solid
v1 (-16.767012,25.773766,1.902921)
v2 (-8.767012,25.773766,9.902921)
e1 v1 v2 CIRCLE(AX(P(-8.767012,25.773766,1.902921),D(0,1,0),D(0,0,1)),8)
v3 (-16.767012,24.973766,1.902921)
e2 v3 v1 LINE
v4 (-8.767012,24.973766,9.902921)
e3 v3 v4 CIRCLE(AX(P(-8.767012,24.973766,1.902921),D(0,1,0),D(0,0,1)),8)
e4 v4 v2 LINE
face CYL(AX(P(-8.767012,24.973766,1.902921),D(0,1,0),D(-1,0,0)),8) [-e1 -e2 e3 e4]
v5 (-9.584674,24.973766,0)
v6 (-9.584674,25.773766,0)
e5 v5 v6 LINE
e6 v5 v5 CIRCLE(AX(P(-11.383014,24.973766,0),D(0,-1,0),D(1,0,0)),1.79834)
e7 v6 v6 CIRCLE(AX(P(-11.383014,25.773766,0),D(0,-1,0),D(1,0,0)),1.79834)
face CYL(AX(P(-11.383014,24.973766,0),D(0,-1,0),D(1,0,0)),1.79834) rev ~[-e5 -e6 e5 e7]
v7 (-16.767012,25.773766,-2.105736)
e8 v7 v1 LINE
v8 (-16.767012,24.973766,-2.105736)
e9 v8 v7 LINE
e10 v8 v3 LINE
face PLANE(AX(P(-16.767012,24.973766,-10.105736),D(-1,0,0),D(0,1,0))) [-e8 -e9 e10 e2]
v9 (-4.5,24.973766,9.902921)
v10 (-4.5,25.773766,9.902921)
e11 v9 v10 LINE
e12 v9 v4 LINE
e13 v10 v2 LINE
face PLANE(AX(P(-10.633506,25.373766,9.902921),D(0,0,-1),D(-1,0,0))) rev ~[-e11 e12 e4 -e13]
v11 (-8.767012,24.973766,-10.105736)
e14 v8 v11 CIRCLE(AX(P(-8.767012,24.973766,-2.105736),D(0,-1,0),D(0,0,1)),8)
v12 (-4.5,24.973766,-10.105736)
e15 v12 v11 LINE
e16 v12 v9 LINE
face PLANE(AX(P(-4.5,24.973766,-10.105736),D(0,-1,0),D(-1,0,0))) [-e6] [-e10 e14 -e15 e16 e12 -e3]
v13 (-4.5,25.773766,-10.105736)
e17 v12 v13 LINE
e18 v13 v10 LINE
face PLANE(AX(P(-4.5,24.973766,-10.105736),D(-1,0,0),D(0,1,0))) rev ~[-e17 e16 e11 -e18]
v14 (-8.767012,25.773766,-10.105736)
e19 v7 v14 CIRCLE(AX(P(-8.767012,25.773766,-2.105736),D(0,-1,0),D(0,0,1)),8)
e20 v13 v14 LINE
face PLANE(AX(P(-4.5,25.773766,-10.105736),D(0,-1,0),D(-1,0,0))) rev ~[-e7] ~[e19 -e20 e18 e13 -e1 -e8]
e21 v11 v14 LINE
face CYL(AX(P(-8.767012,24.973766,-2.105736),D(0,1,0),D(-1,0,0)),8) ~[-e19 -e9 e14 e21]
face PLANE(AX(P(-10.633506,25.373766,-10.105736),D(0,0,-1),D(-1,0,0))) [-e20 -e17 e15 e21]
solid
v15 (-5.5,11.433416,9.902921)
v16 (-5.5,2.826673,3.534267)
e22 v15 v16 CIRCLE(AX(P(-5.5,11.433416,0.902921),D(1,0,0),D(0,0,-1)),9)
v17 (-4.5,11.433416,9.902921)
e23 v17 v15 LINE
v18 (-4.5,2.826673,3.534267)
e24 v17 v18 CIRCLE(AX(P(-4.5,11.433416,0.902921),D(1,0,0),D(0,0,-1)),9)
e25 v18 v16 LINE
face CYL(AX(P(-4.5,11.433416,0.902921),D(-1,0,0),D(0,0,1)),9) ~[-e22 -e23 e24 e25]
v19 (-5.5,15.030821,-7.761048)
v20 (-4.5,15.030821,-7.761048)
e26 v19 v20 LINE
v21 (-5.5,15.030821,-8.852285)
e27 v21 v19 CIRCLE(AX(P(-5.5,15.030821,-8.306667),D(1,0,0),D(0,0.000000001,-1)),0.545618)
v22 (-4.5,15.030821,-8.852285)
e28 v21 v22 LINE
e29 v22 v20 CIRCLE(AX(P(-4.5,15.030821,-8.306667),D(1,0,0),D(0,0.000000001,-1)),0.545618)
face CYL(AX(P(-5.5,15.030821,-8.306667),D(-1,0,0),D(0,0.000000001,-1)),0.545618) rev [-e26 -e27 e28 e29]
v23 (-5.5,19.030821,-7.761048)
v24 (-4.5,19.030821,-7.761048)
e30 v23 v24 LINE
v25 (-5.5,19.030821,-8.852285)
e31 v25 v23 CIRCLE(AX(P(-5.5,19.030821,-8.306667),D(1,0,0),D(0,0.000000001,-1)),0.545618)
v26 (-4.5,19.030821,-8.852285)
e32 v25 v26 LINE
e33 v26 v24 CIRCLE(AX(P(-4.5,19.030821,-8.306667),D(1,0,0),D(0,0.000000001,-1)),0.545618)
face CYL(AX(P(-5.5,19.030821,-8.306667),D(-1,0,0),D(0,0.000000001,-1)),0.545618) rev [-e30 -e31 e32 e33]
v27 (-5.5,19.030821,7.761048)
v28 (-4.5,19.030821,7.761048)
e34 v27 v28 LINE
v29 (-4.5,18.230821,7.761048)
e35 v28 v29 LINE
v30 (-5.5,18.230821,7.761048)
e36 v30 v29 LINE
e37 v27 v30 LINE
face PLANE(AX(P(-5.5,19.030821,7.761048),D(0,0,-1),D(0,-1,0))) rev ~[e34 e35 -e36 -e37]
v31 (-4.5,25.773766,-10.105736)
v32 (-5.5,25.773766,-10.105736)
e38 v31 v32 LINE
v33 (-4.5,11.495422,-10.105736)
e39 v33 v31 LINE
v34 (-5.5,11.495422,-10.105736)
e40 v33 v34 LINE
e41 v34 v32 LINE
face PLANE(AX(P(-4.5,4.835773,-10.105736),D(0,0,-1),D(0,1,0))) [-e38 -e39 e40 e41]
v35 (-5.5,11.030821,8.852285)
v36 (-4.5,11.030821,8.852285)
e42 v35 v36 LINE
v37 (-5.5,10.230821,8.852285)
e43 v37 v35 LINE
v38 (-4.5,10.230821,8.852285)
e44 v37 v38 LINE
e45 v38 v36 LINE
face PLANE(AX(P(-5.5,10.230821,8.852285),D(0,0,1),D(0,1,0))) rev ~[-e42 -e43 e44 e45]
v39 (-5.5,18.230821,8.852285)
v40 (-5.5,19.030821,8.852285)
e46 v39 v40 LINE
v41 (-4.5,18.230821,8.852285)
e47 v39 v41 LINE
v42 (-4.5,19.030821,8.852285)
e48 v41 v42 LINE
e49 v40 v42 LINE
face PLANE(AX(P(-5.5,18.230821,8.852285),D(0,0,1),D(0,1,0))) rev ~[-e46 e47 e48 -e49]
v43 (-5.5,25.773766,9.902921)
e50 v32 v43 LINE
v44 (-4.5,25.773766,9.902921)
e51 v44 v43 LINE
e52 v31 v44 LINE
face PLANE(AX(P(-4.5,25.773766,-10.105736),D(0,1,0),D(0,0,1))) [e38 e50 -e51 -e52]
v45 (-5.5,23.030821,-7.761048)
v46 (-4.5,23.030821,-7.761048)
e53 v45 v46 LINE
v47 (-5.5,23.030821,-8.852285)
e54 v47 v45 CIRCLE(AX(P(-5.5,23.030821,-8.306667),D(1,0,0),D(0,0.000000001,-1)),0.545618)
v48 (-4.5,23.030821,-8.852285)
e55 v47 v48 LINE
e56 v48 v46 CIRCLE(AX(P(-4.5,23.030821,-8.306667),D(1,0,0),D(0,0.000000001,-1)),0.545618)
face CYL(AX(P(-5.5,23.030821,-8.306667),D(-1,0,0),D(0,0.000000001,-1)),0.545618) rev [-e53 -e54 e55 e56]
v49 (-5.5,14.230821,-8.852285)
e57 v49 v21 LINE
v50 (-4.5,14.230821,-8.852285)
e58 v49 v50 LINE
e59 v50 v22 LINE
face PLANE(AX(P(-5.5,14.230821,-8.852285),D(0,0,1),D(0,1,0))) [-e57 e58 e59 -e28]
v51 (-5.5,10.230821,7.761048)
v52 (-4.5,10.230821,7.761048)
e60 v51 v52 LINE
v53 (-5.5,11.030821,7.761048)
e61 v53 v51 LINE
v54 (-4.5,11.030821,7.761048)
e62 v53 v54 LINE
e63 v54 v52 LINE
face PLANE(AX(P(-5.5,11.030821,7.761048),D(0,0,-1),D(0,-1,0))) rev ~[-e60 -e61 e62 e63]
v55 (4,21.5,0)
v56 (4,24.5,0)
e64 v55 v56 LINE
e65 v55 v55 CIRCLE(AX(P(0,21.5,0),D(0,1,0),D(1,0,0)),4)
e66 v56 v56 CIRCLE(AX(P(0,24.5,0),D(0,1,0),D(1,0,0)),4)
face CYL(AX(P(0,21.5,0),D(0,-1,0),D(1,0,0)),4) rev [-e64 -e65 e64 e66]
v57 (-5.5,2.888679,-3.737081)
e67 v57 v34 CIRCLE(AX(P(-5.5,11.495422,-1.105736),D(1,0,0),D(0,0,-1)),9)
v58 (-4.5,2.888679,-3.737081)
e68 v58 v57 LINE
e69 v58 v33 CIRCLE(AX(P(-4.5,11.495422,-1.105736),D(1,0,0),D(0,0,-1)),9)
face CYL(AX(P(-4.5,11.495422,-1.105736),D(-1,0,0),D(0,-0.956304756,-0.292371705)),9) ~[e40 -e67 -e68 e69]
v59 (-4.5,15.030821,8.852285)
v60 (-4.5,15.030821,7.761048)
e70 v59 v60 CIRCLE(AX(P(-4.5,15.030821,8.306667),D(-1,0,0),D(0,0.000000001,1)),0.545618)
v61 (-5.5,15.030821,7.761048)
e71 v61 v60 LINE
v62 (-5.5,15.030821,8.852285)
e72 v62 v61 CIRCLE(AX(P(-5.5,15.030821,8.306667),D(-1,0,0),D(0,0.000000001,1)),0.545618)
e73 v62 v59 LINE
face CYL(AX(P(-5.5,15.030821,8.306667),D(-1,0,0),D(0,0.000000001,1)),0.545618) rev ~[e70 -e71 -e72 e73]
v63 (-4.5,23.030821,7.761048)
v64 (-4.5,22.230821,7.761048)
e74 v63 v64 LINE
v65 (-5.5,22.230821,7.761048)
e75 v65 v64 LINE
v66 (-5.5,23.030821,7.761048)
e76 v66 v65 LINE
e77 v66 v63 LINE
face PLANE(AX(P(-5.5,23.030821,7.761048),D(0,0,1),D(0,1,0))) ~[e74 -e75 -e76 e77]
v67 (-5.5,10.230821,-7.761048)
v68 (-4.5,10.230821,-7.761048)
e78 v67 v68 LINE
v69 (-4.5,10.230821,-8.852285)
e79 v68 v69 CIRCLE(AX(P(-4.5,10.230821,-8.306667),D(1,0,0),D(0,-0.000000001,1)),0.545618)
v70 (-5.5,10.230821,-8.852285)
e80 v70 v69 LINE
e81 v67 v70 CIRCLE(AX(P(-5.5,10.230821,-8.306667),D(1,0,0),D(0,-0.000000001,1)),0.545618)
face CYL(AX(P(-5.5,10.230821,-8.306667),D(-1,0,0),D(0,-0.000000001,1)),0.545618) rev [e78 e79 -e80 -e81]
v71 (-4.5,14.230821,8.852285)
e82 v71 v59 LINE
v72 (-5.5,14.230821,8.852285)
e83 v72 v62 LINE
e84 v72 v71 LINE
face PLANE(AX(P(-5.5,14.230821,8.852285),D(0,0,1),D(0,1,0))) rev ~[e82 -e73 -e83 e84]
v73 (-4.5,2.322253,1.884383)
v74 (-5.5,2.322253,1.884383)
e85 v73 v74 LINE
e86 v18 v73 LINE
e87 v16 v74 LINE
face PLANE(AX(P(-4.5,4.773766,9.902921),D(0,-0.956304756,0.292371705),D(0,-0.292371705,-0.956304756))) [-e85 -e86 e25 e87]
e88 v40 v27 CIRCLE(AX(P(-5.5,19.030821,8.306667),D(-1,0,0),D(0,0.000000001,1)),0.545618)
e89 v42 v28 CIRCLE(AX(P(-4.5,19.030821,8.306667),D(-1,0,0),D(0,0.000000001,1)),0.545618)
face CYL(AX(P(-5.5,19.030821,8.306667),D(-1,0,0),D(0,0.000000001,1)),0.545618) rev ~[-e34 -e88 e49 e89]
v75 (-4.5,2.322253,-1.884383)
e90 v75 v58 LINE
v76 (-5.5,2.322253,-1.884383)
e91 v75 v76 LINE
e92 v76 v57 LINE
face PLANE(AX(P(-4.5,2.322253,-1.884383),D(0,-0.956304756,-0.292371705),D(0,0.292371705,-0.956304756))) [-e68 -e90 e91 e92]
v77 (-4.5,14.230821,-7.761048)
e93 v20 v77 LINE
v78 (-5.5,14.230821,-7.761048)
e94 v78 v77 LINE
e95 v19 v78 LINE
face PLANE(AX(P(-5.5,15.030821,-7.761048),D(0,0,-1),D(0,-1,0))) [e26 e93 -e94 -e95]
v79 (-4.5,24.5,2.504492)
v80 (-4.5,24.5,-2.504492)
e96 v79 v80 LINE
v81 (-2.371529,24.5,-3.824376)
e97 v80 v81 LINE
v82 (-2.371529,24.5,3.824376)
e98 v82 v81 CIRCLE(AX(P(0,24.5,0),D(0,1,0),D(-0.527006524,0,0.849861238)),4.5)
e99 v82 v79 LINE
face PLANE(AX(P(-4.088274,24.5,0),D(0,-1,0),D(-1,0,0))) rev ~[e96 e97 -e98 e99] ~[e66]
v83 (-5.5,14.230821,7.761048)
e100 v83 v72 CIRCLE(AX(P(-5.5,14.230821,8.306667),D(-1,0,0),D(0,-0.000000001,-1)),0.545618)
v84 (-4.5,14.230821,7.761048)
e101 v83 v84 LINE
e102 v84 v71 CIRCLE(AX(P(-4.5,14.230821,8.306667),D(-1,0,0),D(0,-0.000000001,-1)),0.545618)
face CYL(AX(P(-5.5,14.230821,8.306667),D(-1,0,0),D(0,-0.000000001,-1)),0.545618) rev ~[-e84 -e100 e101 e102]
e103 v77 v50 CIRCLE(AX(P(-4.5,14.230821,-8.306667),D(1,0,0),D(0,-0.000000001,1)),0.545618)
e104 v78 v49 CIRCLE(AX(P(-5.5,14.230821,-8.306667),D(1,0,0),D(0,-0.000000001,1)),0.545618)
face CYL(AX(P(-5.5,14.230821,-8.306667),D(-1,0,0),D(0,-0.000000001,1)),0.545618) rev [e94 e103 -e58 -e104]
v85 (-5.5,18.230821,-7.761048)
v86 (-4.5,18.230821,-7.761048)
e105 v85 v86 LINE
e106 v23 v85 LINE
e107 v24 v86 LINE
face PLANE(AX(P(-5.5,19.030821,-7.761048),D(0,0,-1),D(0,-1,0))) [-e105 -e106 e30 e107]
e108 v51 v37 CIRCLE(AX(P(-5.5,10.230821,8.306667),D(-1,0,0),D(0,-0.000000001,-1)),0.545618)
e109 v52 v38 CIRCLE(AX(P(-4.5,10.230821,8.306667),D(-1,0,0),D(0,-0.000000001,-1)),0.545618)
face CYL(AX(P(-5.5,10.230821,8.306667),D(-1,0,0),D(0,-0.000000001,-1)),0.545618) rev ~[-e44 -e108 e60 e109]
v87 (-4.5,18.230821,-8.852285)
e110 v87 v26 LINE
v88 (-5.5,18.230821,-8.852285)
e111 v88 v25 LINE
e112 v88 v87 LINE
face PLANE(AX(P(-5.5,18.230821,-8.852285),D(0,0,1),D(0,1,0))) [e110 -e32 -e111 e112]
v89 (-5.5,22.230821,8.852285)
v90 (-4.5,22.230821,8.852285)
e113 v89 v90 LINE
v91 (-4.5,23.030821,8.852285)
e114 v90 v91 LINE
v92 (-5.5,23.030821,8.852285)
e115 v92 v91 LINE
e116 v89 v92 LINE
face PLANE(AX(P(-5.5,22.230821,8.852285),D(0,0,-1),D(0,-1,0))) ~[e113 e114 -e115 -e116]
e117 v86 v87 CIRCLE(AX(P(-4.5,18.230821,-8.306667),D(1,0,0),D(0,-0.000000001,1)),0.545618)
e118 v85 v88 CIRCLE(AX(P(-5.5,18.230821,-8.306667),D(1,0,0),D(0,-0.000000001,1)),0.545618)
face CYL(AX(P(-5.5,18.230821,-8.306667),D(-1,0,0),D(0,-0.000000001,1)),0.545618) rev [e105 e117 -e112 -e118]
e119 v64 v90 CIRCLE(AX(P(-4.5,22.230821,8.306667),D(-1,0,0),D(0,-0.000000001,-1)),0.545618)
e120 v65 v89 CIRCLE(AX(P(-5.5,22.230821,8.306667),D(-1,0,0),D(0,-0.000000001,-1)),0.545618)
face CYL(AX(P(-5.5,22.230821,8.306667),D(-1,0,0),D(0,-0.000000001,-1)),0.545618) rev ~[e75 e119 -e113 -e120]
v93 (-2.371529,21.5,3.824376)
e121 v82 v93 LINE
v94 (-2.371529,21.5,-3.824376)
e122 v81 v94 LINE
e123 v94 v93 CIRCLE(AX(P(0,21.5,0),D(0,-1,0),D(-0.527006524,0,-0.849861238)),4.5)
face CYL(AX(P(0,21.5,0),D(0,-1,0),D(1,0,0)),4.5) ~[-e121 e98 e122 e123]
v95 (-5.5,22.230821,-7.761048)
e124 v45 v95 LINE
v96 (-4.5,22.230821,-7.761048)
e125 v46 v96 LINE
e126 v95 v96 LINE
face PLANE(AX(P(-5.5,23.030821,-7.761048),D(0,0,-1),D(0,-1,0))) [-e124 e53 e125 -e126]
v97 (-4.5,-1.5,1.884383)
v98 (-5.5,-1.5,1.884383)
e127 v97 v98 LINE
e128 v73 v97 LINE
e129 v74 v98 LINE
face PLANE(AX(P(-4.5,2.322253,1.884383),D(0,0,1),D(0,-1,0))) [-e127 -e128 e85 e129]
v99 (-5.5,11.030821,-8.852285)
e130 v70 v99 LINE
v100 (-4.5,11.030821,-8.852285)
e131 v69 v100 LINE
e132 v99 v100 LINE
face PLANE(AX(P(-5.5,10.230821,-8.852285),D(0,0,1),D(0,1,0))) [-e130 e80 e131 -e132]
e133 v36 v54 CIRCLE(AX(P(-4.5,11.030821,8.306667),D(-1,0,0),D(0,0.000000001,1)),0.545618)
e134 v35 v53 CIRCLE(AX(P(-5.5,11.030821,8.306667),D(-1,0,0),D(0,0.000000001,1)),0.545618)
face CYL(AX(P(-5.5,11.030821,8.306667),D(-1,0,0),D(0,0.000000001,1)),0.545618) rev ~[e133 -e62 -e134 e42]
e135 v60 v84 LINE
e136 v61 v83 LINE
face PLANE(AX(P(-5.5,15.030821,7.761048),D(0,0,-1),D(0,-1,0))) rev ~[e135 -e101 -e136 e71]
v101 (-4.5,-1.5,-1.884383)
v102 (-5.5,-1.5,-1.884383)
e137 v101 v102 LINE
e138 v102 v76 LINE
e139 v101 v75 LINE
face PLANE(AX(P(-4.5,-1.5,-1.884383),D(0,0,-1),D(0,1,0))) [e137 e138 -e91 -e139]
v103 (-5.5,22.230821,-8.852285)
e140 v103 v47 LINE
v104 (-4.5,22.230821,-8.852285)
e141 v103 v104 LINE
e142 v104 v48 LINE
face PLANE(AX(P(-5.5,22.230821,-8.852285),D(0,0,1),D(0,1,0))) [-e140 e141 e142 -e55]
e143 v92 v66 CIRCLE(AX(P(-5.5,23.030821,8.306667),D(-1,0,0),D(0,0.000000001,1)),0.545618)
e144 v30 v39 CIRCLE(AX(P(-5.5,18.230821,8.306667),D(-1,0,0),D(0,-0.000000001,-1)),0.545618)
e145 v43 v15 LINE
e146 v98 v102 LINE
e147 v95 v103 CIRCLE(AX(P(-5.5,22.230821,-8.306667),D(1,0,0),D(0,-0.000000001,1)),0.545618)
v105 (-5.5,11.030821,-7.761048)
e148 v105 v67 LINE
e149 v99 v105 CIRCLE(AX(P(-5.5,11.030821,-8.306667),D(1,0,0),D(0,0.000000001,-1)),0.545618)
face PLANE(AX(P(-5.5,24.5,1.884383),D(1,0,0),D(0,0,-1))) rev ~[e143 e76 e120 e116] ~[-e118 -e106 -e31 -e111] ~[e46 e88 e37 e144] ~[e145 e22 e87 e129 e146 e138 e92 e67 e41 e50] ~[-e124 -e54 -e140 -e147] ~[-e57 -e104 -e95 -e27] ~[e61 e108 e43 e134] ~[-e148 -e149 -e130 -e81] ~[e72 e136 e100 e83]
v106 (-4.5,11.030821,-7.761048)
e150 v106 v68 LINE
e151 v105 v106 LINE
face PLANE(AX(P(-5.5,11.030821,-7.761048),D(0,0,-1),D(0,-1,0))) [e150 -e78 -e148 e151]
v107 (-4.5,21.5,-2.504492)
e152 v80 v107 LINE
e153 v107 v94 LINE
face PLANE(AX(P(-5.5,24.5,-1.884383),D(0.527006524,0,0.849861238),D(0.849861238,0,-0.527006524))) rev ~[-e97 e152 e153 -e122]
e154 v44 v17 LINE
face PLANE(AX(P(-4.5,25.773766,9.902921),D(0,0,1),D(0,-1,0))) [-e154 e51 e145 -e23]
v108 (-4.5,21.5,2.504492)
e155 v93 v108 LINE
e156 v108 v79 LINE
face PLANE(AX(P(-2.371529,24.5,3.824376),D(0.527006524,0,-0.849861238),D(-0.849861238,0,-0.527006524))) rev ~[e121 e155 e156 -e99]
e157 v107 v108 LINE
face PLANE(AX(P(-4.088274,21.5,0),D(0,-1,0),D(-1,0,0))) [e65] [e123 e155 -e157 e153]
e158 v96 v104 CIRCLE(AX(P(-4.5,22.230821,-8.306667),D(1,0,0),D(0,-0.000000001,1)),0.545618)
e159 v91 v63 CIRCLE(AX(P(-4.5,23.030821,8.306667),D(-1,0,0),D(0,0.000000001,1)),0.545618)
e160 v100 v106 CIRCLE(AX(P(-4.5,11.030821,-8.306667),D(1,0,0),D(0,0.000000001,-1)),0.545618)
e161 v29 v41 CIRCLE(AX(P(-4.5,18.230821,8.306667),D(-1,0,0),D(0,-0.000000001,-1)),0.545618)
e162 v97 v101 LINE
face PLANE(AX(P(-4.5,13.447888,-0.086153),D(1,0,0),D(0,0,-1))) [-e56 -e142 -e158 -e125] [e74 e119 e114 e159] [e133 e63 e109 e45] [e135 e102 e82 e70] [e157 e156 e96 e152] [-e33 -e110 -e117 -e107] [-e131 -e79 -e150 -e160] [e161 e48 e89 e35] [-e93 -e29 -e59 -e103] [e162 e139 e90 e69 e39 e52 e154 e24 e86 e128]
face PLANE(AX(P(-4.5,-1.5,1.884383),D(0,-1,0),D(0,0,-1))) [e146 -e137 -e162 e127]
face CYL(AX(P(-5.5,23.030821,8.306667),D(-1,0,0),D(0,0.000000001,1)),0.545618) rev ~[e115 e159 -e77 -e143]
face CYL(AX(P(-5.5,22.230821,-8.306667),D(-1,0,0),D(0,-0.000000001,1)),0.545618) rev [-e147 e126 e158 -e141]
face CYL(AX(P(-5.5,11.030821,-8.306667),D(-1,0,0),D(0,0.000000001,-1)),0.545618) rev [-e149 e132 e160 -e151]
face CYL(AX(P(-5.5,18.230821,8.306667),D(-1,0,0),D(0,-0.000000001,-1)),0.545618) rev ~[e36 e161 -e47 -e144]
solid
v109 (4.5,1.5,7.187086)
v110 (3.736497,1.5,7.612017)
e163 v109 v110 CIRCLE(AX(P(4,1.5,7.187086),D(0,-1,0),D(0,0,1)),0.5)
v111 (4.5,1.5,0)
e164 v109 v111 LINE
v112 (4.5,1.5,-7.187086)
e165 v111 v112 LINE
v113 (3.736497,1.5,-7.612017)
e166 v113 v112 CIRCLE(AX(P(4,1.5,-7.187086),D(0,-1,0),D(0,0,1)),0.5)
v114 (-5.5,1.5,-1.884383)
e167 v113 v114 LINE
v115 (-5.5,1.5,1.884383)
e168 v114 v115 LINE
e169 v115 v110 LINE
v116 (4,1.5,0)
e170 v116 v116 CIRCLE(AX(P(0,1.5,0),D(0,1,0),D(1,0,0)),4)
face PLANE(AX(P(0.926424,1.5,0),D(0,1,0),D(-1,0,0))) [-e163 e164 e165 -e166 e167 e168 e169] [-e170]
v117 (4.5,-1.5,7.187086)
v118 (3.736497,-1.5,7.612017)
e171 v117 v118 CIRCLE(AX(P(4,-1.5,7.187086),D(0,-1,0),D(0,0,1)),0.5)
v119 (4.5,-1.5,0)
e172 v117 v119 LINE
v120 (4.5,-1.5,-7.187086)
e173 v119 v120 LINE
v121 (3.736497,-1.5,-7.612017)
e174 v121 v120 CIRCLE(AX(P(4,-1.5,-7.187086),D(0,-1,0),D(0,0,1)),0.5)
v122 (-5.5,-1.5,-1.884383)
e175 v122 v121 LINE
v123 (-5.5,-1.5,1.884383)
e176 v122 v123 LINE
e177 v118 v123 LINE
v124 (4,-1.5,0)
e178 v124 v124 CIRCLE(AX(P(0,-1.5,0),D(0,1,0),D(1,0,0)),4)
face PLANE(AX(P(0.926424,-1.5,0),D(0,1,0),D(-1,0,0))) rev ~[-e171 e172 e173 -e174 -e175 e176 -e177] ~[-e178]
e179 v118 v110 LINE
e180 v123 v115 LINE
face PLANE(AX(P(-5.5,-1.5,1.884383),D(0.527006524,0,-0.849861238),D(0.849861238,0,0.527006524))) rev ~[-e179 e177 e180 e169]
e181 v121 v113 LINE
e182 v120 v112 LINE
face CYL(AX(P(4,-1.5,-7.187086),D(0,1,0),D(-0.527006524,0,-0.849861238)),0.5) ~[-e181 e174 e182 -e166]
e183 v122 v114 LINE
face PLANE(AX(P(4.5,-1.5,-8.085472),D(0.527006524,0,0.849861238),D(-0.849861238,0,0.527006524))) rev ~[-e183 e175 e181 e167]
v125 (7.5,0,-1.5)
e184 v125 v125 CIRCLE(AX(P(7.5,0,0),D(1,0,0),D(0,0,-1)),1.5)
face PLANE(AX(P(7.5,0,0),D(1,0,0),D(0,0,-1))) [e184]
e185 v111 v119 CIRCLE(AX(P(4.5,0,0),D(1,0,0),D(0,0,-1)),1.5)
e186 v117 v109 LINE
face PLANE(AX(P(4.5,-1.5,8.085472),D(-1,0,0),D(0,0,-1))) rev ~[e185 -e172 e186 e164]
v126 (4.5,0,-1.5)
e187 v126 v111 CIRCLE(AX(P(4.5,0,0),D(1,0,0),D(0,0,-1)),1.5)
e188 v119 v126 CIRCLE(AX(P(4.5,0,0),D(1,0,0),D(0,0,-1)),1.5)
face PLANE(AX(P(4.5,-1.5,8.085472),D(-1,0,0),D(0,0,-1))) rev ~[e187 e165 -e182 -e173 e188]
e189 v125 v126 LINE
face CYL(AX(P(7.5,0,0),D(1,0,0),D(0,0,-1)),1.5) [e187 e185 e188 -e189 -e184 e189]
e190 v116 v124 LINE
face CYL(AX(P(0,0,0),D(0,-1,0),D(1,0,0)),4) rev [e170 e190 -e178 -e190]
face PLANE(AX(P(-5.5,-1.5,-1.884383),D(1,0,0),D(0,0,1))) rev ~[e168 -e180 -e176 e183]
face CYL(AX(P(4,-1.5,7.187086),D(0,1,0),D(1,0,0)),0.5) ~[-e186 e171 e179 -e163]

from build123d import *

# Parameters (mm, degrees)
SKETCH1_R              = 4.5
SKETCH1_R_2            = 4
BOSS_EXTRUDE1_DEPTH    = 1.5
BOSS_EXTRUDE2_REACH    = 14
SKETCH4_R              = 1.5
BOSS_EXTRUDE3_DEPTH    = 1
FILLET1_R              = 9
CUT_EXTRUDE1_DEPTH     = 1
LPATTERN1_COUNT        = 4
LPATTERN1_PITCH        = 4
LPATTERN1_COPY_1_DEPTH = 1
LPATTERN1_COPY_2_DEPTH = 1
LPATTERN1_COPY_3_DEPTH = 1
SKETCH8_W              = 12.26701151
SKETCH8_H              = 0.8
BOSS_EXTRUDE4_DEPTH    = 20.008657
FILLET3_R              = 8
SKETCH9_R              = 4
BOSS_EXTRUDE5_DEPTH    = 3
FILLET5_R              = 0.5
SKETCH11_R             = 4.5
SKETCH11_R_2           = 4
BOSS_EXTRUDE6_DEPTH    = 3
BOSS_EXTRUDE7_DEPTH    = 3
SKETCH10_R             = 1.798339867
CUT_EXTRUDE3_DEPTH     = 1


with BuildPart() as part:
    # Sketch1 → Boss-Extrude1 (new body, symmetric)
    with BuildSketch(Plane(origin=(0, 0, 0), x_dir=(1, 0, 0), z_dir=(0, 1, 0))):
        Circle(SKETCH1_R)
        Circle(SKETCH1_R_2, mode=Mode.SUBTRACT)
    extrude(amount=BOSS_EXTRUDE1_DEPTH, both=True)

    # Sketch4 → Boss-Extrude2 (add, up to next)
    with BuildSketch(Plane(origin=(7.5, 0, 0), x_dir=(0, 0, -1), z_dir=(1, 0, 0)), mode=Mode.PRIVATE) as boss_extrude2_sk1:
        Circle(SKETCH4_R)
    boss_extrude2_tool1 = extrude(boss_extrude2_sk1.sketch, amount=-BOSS_EXTRUDE2_REACH, mode=Mode.PRIVATE) - part.part
    add(boss_extrude2_tool1.solids().sort_by_distance((7.5, 0, 0))[0])

    # Sketch9 → Boss-Extrude5 (add)
    with BuildSketch(Plane.XZ.offset(1.5)):
        Polygon((4.5, 8.085472141), (4.5, -8.085472141), (-5.5, -1.884383055), (-5.5, 1.884383055), align=None)
        Circle(SKETCH9_R, mode=Mode.SUBTRACT)
    extrude(amount=-BOSS_EXTRUDE5_DEPTH)

    # Fillet5
    fillet5_edges = [part.edges().sort_by_distance(p)[0] for p in [
        (4.5, 0, -8.085472141),
        (4.5, 0, 8.085472141),
    ]]
    fillet(fillet5_edges, radius=FILLET5_R)


with BuildPart() as body_2:
    # Sketch6 → Boss-Extrude3 (new body)
    with BuildSketch(Plane(origin=(-4.5, 0, 0), x_dir=(0, 0, -1), z_dir=(1, 0, 0))):
        Polygon((1.884383055, -1.5), (1.884383055, 2.322252785), (10.105735978, 4.835772616), (10.105735978, 25.773765949), (-9.90292131, 25.773765949), (-9.90292131, 4.773765949), (-1.884383055, 2.322252785), (-1.884383055, -1.5), align=None)
    extrude(amount=-BOSS_EXTRUDE3_DEPTH)

    # Fillet1
    fillet1_edges = [body_2.edges().sort_by_distance(p)[0] for p in [
        (-5, 4.773765949, 9.90292131),
        (-5, 4.835772616, -10.105735978),
    ]]
    fillet(fillet1_edges, radius=FILLET1_R)

    # Sketch7 → Cut-Extrude1 (cut)
    with BuildSketch(Plane.ZY.offset(5.5)):
        with BuildLine():
            Line((-7.761048452, 23.030820996), (-7.761048452, 22.230820996))
            ThreePointArc((-7.761048452, 22.230820996), (-8.306666723, 21.685202725), (-8.852284995, 22.230820996))
            Line((-8.852284995, 22.230820996), (-8.852284995, 23.030820996))
            ThreePointArc((-8.852284995, 23.030820996), (-8.306666723, 23.576439267), (-7.761048452, 23.030820996))
        make_face()
    cut_extrude1 = extrude(amount=-CUT_EXTRUDE1_DEPTH, mode=Mode.SUBTRACT)

    # Mirror1: Cut-Extrude1 across plane
    add(cut_extrude1.mirror(Plane.XY), mode=Mode.SUBTRACT)

    # LPattern1: Cut-Extrude1 ×4
    with Locations(*[(0, -i * LPATTERN1_PITCH, 0) for i in range(1, LPATTERN1_COUNT)]):
        add(cut_extrude1, mode=Mode.SUBTRACT)

    # LPattern1 copy 1 sketch → LPattern1 copy 1 (cut)
    with BuildSketch(Plane(origin=(-5.5, -4, 0), x_dir=(0, 0, -1), z_dir=(-1, 0, 0))):
        with BuildLine():
            Line((-7.761048452, -23.030820996), (-7.761048452, -22.230820996))
            ThreePointArc((-7.761048452, -22.230820996), (-8.306666723, -21.685202725), (-8.852284995, -22.230820996))
            Line((-8.852284995, -22.230820996), (-8.852284995, -23.030820996))
            ThreePointArc((-8.852284995, -23.030820996), (-8.306666723, -23.576439267), (-7.761048452, -23.030820996))
        make_face()
    extrude(amount=-LPATTERN1_COPY_1_DEPTH, mode=Mode.SUBTRACT)

    # LPattern1 copy 2 sketch → LPattern1 copy 2 (cut)
    with BuildSketch(Plane(origin=(-5.5, -8, 0), x_dir=(0, 0, -1), z_dir=(-1, 0, 0))):
        with BuildLine():
            Line((-7.761048452, -23.030820996), (-7.761048452, -22.230820996))
            ThreePointArc((-7.761048452, -22.230820996), (-8.306666723, -21.685202725), (-8.852284995, -22.230820996))
            Line((-8.852284995, -22.230820996), (-8.852284995, -23.030820996))
            ThreePointArc((-8.852284995, -23.030820996), (-8.306666723, -23.576439267), (-7.761048452, -23.030820996))
        make_face()
    extrude(amount=-LPATTERN1_COPY_2_DEPTH, mode=Mode.SUBTRACT)

    # LPattern1 copy 3 sketch → LPattern1 copy 3 (cut)
    with BuildSketch(Plane(origin=(-5.5, -12, 0), x_dir=(0, 0, -1), z_dir=(-1, 0, 0))):
        with BuildLine():
            Line((-7.761048452, -23.030820996), (-7.761048452, -22.230820996))
            ThreePointArc((-7.761048452, -22.230820996), (-8.306666723, -21.685202725), (-8.852284995, -22.230820996))
            Line((-8.852284995, -22.230820996), (-8.852284995, -23.030820996))
            ThreePointArc((-8.852284995, -23.030820996), (-8.306666723, -23.576439267), (-7.761048452, -23.030820996))
        make_face()
    extrude(amount=-LPATTERN1_COPY_3_DEPTH, mode=Mode.SUBTRACT)



with BuildPart() as body_3:
    # Sketch8 → Boss-Extrude4 (new body)
    with BuildSketch(Plane(origin=(0, 0, -10.105735978), x_dir=(-1, 0, 0), z_dir=(0, 0, -1))):
        with Locations((10.633505755, 25.373765949)):
            Rectangle(SKETCH8_W, SKETCH8_H)
    extrude(amount=-BOSS_EXTRUDE4_DEPTH)

    # Fillet3
    fillet3_edges = [body_3.edges().sort_by_distance(p)[0] for p in [
        (-16.76701151, 25.373765949, -10.105735978),
        (-16.76701151, 25.373765949, 9.902921022),
    ]]
    fillet(fillet3_edges, radius=FILLET3_R)

    # Sketch10 → Cut-Extrude3 (cut)
    with BuildSketch(Plane.XZ.offset(-24.973765949)):
        with Locations((-11.383014104, 0)):
            Circle(SKETCH10_R)
    extrude(amount=-CUT_EXTRUDE3_DEPTH, mode=Mode.SUBTRACT)


with BuildPart() as body_4:
    # Sketch11 → Boss-Extrude6 (new body)
    with BuildSketch(Plane(origin=(0, 21.5, 0), x_dir=(1, 0, 0), z_dir=(0, 1, 0))):
        Circle(SKETCH11_R)
        Circle(SKETCH11_R_2, mode=Mode.SUBTRACT)
    extrude(amount=BOSS_EXTRUDE6_DEPTH)


with BuildPart() as body_2_1:
    add(body_2.part)

    add(body_4.part)  # Boss-Extrude7 merges body 4
    # Sketch13 → Boss-Extrude7 (add)
    with BuildSketch(Plane(origin=(0, 24.5, 0), x_dir=(1, 0, 0), z_dir=(0, 1, 0))):
        with BuildLine():
            Line((-5.5, 1.884383055), (-2.37152936, 3.824375569))
            ThreePointArc((-2.37152936, 3.824375569), (-4.5, 0), (-2.37152936, -3.824375569))
            Line((-2.37152936, -3.824375569), (-5.5, -1.884383055))
            Line((-5.5, -1.884383055), (-5.5, 1.884383055))
        make_face()
    extrude(amount=-BOSS_EXTRUDE7_DEPTH)


solid = Compound([part.part, body_3.part, body_2_1.part])
